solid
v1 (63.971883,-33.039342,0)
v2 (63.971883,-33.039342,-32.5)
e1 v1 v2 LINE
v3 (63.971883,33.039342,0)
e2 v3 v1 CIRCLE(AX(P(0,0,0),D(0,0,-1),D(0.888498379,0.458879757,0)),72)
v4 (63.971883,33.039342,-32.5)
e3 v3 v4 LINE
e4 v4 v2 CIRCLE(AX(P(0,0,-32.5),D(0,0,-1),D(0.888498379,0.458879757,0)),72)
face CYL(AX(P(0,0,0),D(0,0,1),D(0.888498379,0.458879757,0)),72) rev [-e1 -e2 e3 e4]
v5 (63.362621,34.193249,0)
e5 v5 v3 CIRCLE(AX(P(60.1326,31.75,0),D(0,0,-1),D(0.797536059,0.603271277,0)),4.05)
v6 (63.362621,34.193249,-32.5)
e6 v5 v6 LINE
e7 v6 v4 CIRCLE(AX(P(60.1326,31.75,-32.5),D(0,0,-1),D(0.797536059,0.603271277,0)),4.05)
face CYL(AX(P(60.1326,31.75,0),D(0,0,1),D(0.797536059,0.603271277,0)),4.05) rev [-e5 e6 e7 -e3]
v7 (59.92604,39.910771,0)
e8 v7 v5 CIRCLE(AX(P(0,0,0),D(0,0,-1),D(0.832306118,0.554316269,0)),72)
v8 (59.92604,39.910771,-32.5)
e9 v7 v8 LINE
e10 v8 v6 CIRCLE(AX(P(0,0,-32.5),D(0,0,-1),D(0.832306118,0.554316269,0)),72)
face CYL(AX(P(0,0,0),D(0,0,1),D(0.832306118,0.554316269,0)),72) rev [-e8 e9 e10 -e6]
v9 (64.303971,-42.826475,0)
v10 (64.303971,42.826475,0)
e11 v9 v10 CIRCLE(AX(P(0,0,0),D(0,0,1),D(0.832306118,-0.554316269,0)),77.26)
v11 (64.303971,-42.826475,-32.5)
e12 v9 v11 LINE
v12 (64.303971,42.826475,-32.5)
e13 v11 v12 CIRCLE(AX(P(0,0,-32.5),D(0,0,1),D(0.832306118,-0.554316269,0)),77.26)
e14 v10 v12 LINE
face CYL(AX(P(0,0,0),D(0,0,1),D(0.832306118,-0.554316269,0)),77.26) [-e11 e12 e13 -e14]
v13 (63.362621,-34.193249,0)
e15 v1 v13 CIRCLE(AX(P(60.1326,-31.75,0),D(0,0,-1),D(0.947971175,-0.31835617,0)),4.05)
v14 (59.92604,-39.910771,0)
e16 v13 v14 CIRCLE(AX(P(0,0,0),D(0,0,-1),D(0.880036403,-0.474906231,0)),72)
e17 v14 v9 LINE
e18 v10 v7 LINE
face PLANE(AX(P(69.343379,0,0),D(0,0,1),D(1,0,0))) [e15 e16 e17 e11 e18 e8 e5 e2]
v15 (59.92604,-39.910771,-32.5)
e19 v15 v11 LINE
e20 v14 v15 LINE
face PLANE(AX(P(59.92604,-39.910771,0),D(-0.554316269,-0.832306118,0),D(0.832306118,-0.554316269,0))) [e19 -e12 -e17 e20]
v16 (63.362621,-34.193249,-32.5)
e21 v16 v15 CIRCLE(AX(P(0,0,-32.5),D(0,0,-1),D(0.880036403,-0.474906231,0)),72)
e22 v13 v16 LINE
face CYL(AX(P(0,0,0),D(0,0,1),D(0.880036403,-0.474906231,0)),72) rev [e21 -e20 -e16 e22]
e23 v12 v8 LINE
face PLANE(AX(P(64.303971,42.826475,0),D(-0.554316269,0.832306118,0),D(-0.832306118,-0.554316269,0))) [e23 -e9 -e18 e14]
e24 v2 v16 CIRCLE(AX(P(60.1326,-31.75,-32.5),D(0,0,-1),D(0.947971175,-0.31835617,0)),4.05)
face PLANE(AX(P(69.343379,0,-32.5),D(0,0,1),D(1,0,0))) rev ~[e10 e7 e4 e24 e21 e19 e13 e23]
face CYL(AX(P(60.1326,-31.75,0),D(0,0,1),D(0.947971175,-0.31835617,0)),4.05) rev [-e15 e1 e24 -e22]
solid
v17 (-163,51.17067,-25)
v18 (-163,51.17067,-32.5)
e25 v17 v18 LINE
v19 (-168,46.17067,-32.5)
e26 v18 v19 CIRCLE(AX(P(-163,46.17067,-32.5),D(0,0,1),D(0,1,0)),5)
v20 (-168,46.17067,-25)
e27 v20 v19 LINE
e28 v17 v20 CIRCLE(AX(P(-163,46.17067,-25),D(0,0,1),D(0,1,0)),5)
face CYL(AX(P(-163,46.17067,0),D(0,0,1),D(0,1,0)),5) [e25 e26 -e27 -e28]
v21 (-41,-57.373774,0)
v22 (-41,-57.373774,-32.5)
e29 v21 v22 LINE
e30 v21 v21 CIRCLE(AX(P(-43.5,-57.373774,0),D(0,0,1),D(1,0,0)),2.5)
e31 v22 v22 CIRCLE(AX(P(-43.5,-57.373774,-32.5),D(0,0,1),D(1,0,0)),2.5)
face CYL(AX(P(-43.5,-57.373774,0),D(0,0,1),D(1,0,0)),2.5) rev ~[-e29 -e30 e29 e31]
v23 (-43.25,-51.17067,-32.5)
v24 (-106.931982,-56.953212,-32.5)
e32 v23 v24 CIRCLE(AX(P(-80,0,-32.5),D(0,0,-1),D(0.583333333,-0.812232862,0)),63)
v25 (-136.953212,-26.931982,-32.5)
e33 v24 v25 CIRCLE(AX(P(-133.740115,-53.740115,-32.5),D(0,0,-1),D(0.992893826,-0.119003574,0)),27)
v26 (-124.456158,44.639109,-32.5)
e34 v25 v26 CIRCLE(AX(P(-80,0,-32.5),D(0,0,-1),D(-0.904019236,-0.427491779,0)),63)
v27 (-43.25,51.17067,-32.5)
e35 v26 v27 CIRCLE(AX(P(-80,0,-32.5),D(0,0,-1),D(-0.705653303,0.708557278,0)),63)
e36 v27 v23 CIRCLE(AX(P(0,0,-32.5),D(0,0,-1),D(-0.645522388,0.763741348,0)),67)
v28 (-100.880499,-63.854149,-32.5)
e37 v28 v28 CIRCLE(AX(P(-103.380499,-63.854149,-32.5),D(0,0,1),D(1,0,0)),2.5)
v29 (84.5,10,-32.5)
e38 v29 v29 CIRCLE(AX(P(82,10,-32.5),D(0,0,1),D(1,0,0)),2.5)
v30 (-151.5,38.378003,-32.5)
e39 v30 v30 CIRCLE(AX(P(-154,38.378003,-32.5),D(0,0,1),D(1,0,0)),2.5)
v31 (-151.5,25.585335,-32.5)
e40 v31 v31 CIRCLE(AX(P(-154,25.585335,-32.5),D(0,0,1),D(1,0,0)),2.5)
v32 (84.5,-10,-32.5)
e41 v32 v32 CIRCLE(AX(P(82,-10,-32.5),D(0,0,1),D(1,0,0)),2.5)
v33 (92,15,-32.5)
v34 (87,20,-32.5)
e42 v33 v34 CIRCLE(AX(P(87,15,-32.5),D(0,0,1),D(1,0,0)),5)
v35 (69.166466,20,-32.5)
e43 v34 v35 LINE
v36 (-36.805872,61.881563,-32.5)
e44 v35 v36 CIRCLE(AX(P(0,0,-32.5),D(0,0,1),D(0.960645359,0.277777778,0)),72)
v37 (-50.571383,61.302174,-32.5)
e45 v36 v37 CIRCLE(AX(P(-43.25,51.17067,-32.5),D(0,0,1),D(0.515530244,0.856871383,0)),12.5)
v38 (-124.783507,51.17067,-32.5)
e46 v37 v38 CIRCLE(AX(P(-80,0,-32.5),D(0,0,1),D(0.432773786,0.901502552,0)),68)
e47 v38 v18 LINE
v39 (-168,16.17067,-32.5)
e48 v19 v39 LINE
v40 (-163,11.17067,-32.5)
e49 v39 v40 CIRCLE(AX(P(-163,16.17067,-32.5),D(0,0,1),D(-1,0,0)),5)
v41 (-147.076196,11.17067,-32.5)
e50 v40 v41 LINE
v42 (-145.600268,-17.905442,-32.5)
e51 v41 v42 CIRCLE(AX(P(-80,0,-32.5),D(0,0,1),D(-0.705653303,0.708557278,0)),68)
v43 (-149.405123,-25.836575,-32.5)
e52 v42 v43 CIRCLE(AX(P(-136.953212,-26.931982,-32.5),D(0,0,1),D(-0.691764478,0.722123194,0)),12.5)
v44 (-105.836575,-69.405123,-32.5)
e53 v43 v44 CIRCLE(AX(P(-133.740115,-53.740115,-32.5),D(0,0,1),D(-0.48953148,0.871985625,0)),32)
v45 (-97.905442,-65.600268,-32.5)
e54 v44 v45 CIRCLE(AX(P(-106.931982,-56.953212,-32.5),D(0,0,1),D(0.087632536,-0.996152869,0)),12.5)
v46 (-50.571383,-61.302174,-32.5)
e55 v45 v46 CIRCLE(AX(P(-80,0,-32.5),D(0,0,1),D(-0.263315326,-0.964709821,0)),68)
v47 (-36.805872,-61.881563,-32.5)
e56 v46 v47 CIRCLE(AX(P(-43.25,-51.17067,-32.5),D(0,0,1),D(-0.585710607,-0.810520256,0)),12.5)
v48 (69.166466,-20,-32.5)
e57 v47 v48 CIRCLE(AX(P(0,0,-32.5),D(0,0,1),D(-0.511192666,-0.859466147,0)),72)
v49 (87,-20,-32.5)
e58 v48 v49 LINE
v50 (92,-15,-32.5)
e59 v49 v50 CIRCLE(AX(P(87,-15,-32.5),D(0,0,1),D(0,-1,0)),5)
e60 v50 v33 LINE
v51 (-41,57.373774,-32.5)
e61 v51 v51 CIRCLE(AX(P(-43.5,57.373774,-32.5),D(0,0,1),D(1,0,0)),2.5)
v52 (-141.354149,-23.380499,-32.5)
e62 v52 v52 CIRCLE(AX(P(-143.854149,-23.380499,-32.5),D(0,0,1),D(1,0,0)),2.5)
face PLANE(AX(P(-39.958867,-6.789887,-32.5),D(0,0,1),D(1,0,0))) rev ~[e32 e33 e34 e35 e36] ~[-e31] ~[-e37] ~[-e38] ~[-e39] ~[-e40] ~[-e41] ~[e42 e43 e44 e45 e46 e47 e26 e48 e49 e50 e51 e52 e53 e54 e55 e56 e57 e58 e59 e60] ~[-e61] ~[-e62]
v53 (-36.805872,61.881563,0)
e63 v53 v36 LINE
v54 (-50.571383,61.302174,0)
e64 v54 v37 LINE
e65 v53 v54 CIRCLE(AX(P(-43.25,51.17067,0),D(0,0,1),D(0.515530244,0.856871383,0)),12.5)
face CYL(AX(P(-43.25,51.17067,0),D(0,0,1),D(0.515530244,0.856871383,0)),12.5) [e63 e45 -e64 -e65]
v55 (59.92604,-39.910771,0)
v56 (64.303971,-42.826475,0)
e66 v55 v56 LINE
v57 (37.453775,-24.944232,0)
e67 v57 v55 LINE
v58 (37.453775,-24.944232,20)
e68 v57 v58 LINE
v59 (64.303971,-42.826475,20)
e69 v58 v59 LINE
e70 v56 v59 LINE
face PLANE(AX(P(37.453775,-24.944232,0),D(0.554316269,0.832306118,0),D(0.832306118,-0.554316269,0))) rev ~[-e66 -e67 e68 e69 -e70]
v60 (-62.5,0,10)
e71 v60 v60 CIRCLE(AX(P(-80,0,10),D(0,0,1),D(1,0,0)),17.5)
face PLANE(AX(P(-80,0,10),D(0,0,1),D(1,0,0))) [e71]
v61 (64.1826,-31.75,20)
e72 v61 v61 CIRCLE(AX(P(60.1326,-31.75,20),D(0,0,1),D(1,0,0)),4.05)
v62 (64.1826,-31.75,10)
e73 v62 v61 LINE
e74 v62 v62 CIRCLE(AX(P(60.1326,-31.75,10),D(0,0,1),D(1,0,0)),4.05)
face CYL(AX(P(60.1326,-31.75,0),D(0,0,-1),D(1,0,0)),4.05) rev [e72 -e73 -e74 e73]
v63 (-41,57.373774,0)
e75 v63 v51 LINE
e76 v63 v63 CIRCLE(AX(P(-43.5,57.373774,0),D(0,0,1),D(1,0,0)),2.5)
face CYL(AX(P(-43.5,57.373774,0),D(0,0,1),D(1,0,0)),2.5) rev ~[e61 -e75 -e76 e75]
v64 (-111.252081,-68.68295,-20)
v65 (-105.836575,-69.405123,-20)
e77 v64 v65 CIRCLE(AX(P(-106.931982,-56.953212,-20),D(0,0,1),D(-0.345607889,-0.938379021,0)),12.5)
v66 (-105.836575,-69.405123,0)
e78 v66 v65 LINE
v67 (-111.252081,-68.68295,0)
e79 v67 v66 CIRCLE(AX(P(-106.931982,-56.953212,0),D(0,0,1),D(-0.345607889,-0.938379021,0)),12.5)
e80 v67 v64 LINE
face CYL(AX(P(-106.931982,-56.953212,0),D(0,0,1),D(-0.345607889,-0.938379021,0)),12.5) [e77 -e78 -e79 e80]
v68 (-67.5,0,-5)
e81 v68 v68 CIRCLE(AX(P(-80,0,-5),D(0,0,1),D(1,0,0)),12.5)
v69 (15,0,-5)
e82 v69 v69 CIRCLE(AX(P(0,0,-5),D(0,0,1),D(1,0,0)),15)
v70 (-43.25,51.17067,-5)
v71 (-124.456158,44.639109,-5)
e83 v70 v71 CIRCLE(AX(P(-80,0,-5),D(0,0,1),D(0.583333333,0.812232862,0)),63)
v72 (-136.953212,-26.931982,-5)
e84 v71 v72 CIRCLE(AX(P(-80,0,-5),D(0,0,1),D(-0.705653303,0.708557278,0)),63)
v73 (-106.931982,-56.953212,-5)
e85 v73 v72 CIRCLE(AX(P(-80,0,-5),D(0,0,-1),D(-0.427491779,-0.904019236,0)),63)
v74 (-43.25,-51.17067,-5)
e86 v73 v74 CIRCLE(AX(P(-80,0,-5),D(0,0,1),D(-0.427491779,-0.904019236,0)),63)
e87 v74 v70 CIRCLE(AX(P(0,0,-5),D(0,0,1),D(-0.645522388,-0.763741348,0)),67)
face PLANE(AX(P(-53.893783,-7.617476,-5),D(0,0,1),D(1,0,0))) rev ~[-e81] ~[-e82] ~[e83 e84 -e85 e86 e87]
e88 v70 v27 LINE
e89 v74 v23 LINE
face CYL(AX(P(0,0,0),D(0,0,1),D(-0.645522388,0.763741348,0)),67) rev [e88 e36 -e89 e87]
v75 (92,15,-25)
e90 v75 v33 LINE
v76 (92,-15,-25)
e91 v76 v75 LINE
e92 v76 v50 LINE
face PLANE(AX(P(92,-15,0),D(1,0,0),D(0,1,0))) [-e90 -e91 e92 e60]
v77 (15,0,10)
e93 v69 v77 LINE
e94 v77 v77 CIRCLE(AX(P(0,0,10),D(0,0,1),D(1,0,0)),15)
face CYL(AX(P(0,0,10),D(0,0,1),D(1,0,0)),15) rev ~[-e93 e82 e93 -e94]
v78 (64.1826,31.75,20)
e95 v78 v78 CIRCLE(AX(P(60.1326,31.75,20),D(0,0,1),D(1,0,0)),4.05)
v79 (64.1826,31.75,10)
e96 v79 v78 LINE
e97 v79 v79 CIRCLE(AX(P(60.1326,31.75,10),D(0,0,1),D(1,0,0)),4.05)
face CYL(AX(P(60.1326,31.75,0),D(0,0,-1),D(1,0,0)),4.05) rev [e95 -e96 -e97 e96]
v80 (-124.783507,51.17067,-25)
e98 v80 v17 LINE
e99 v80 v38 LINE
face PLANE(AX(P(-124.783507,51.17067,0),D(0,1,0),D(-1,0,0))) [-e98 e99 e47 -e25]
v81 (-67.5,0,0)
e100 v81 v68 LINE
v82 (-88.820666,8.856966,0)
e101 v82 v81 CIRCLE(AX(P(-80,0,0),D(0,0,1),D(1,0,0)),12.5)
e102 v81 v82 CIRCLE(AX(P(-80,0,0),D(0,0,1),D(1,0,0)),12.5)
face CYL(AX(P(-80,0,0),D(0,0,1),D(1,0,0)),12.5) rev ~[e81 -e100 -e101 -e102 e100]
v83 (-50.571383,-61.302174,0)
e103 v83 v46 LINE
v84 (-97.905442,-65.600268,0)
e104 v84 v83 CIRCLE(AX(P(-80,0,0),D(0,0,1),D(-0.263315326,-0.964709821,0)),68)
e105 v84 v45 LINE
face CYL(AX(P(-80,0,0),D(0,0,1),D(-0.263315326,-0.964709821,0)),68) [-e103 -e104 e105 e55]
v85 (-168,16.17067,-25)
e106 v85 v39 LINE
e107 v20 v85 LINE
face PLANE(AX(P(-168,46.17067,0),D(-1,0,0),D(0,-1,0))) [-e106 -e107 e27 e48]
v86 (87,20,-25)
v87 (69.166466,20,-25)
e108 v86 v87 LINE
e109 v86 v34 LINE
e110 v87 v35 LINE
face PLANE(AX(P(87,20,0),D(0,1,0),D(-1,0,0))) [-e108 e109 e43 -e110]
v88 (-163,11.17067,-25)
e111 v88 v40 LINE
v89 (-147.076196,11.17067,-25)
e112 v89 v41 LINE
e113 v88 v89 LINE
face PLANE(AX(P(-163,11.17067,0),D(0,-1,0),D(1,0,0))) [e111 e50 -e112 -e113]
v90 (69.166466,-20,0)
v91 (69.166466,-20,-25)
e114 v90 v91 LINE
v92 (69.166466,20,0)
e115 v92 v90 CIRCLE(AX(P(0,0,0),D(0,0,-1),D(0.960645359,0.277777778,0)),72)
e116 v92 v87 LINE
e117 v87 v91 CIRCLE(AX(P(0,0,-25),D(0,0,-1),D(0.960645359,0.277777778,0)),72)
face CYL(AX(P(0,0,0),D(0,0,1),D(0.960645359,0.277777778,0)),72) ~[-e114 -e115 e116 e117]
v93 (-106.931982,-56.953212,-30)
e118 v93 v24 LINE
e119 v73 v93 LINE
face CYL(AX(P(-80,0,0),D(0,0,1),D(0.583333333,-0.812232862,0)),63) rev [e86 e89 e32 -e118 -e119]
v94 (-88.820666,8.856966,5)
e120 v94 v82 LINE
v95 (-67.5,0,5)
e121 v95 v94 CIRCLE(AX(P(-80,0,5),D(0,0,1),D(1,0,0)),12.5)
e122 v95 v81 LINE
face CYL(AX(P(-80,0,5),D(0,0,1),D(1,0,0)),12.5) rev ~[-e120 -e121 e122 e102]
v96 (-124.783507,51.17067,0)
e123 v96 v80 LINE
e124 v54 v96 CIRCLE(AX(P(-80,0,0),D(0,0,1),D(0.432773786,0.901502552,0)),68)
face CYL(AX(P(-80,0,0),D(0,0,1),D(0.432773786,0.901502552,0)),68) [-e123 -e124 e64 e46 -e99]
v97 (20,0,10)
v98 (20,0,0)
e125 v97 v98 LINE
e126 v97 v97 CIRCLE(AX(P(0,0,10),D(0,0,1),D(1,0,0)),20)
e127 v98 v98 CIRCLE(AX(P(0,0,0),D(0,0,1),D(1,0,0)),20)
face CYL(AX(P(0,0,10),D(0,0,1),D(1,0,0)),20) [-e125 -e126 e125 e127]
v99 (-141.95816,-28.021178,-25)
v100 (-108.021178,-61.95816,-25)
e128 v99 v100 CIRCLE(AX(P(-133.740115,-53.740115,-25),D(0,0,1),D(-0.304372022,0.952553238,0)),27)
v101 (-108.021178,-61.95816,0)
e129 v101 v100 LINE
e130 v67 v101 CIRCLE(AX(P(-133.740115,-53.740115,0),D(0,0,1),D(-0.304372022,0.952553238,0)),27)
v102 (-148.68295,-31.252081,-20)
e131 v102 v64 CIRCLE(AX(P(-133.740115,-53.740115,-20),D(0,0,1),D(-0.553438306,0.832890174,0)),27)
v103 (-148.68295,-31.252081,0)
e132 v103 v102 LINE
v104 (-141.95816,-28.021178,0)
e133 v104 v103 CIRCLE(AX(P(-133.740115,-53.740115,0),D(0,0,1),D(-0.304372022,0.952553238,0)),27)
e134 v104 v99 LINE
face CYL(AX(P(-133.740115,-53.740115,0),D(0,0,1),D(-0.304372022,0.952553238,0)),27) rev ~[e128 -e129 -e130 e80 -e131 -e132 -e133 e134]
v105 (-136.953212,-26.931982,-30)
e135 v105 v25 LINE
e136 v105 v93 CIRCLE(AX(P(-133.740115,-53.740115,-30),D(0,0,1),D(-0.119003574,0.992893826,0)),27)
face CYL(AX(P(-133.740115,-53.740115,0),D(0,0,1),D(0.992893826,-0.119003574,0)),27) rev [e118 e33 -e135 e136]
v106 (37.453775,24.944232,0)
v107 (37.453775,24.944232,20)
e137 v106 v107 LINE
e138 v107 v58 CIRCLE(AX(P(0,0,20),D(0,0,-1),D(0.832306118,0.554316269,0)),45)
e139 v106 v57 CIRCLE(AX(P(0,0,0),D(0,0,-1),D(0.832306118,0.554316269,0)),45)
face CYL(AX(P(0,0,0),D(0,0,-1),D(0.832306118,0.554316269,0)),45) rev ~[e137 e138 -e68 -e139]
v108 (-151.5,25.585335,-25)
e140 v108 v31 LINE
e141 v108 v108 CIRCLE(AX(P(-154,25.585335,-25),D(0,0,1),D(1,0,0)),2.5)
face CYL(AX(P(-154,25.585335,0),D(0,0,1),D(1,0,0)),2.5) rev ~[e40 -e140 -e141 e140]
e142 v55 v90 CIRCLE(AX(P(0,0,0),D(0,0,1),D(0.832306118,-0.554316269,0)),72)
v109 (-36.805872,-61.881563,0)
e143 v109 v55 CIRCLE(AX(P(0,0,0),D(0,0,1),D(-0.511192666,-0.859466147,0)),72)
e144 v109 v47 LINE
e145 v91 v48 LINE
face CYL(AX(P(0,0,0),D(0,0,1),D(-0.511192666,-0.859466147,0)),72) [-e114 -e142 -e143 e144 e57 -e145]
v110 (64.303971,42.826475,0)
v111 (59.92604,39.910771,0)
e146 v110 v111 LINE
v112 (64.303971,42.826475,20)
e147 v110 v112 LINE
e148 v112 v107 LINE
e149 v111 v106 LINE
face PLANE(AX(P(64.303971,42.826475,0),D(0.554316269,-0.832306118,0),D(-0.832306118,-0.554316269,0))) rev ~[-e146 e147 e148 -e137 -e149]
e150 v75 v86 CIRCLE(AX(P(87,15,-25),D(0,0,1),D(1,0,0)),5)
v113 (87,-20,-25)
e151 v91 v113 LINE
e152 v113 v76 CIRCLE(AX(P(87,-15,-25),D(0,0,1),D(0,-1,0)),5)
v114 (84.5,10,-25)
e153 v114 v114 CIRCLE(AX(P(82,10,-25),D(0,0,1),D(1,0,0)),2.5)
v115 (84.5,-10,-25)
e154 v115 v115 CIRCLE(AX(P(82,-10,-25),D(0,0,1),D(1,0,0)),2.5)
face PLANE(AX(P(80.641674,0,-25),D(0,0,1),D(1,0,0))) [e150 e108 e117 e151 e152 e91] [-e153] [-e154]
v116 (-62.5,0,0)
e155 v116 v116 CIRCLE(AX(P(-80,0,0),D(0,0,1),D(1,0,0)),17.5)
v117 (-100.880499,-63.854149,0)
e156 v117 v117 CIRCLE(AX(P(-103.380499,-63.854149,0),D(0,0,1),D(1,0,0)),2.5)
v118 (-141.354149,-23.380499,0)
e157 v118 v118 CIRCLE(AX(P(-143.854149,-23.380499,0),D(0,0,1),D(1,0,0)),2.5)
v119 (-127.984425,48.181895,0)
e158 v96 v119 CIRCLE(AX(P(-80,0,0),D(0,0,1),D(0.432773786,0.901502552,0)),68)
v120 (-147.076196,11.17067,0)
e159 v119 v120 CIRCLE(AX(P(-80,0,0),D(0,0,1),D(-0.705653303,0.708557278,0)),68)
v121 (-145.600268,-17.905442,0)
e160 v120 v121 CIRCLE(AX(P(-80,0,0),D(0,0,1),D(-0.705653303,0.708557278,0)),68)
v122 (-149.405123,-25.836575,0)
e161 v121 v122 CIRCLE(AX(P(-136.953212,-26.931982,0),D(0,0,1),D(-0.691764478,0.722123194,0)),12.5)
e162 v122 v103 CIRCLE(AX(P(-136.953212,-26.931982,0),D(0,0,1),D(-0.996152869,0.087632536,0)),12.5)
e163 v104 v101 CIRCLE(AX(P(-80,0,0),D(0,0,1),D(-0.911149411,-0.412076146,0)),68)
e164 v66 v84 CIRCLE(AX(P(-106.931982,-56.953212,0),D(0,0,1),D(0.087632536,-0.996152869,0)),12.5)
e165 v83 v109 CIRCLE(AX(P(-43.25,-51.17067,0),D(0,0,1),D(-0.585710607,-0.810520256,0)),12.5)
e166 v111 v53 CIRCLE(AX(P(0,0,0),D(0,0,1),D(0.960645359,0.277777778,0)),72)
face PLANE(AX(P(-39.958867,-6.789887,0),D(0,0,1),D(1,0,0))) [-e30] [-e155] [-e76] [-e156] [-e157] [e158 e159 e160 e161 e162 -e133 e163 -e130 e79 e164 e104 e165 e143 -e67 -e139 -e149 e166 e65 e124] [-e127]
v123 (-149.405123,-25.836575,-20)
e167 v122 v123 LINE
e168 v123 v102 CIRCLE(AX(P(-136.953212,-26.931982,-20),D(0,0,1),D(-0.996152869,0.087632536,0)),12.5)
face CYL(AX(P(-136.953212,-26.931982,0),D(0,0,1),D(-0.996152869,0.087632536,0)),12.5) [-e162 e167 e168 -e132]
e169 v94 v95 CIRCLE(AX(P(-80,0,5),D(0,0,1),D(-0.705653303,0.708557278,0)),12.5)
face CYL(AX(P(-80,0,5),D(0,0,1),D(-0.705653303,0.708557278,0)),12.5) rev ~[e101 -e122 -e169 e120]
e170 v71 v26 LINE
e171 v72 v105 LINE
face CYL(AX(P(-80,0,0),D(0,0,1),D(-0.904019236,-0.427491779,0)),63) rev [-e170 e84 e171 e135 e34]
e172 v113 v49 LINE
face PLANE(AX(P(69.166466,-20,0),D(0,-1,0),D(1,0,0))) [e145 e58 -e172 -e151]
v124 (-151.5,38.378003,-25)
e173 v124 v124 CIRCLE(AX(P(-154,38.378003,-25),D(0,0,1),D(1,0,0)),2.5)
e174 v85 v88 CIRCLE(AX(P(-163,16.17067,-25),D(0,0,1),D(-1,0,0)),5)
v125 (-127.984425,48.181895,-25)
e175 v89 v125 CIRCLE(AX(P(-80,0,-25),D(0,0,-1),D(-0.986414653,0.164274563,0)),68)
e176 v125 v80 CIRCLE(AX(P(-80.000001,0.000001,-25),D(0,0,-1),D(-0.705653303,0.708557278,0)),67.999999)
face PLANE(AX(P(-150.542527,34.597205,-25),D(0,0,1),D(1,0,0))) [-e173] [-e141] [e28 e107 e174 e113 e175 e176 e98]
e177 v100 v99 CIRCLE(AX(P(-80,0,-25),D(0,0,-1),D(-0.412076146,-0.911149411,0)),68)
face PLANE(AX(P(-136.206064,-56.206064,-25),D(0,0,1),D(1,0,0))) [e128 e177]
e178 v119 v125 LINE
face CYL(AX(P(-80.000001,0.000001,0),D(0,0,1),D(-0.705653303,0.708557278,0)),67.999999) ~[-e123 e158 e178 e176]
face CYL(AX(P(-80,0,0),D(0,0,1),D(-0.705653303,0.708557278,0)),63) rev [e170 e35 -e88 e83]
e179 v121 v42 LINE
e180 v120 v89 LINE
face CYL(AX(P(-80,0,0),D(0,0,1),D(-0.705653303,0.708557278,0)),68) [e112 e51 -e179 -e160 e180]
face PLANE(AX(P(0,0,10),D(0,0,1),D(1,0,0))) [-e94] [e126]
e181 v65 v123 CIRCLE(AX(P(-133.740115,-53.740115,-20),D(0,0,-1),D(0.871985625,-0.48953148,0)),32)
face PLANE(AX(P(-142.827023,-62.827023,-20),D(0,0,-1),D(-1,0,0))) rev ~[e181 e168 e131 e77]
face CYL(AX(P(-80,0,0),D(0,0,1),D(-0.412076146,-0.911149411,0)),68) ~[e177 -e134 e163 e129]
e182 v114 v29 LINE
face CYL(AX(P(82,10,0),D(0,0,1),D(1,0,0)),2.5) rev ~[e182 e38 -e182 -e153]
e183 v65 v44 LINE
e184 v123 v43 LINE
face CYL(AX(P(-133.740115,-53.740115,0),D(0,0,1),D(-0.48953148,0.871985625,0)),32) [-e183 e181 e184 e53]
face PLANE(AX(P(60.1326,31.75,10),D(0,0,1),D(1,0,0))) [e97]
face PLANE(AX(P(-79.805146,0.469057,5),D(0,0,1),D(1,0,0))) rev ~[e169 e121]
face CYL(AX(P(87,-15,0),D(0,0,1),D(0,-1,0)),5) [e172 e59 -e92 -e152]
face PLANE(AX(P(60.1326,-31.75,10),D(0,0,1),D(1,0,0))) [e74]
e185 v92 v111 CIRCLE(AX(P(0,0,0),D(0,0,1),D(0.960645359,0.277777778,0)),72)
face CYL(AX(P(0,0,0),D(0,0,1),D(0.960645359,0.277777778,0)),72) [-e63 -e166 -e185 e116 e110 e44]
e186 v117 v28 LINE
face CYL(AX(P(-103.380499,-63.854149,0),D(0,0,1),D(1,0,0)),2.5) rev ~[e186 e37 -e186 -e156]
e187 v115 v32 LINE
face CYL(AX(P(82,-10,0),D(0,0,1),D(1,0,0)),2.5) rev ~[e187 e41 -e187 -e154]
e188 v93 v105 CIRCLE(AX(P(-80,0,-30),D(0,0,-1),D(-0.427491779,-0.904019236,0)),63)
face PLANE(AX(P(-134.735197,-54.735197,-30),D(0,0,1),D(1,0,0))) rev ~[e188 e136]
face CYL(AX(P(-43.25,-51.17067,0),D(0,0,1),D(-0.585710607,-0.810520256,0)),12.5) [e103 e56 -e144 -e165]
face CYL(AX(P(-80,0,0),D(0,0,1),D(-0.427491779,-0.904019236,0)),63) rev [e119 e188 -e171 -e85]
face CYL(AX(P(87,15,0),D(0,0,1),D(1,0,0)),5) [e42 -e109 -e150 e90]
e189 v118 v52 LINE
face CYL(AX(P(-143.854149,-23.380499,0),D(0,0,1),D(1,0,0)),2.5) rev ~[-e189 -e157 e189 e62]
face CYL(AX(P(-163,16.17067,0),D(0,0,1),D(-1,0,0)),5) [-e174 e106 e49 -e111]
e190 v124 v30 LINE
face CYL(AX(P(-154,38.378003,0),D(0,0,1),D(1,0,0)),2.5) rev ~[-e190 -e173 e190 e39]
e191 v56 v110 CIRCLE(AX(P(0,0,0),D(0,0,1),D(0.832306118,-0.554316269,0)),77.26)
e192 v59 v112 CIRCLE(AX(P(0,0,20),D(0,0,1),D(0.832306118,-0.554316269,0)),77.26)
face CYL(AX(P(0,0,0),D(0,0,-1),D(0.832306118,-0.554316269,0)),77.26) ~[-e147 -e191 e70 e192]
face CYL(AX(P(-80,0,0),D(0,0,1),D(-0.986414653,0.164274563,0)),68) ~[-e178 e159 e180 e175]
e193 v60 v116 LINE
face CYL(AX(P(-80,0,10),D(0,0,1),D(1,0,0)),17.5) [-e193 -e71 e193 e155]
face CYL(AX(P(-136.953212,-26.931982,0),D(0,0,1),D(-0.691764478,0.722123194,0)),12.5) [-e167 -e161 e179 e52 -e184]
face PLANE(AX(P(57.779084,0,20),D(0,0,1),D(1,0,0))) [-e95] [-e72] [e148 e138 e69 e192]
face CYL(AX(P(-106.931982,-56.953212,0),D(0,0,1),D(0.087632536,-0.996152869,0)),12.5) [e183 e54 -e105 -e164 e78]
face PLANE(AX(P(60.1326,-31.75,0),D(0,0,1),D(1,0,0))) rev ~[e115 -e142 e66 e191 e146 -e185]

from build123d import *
from build123d.topology import SkipClean

# Parameters (mm, degrees)
SKETCH1_R            = 12.5
SKETCH1_R_2          = 15
BOSS_EXTRUDE5_DEPTH  = 5
SKETCH1_10_R         = 2.5
BOSS_EXTRUDE6_DEPTH  = 32.5
SKETCH1_11_R         = 2.5
CUT_EXTRUDE3_DEPTH   = 25
BOSS_EXTRUDE7_START  = 10
SKETCH1_12_R         = 17.5
SKETCH1_12_R_2       = 20
SKETCH1_12_R_3       = 15
BOSS_EXTRUDE7_DEPTH  = 10
CUT_EXTRUDE4_START   = 5
CUT_EXTRUDE4_DEPTH   = 5
SKETCH1_14_R         = 15
BOSS_EXTRUDE8_DEPTH  = 5
BOSS_EXTRUDE18_DEPTH = 30
CUT_EXTRUDE6_DEPTH   = 25
CUT_EXTRUDE7_DEPTH   = 20
SKETCH1_17_R         = 2.5
BOSS_EXTRUDE19_DEPTH = 32.5
SKETCH1_18_R         = 2.5
CUT_EXTRUDE8_DEPTH   = 25
SKETCH5_R            = 4.05
BOSS_EXTRUDE23_DEPTH = 20
SKETCH5_7_R          = 4.05
BOSS_EXTRUDE24_DEPTH = 10
BOSS_EXTRUDE25_DEPTH = 32.5


with BuildPart() as part:
    # Sketch1 → Boss-Extrude5 (new body)
    with BuildSketch(Plane.XY):
        with BuildLine():
            ThreePointArc((-43.25, 51.17067031), (-85.050895255, 62.797201029), (-124.456158067, 44.639108525))
            ThreePointArc((-124.456158067, 44.639108525), (-142.061021018, 10.836497137), (-136.953211864, -26.931982072))
            ThreePointArc((-136.953211864, -26.931982072), (-152.831998462, -72.831998462), (-106.931982072, -56.953211864))
            ThreePointArc((-106.931982072, -56.953211864), (-74.302823883, -62.741869468), (-43.25, -51.17067031))
            ThreePointArc((-43.25, -51.17067031), (67, 0), (-43.25, 51.17067031))
        make_face()
        with Locations((-80, 0)):
            Circle(SKETCH1_R, mode=Mode.SUBTRACT)
        with Locations((-133.74011537, -53.74011537)):
            Circle(SKETCH1_R_2, mode=Mode.SUBTRACT)
        Circle(SKETCH1_R_2, mode=Mode.SUBTRACT)
    extrude(amount=-BOSS_EXTRUDE5_DEPTH)

    # Sketch1<10> → Boss-Extrude6 (add)
    with BuildSketch(Plane.XY):
        with BuildLine():
            ThreePointArc((-127.98442458, 48.181894916), (-145.705818757, 17.514148036), (-145.600267844, -17.905442155))
            ThreePointArc((-145.600267844, -17.905442155), (-148.223407914, -21.525256537), (-149.405122728, -25.836575371))
            ThreePointArc((-149.405122728, -25.836575371), (-156.367532368, -76.367532368), (-105.836575371, -69.405122728))
            ThreePointArc((-105.836575371, -69.405122728), (-101.525256538, -68.223407914), (-97.905442155, -65.600267844))
            ThreePointArc((-97.905442155, -65.600267844), (-73.850667048, -67.721382917), (-50.571382583, -61.302173509))
            ThreePointArc((-50.571382583, -61.302173509), (-43.775658453, -63.659612747), (-36.80587195, -61.881562601))
            ThreePointArc((-36.80587195, -61.881562601), (26.463528319, -66.9602992), (69.166465863, -20))
            Line((69.166465863, -20), (87, -20))
            ThreePointArc((87, -20), (90.535533906, -18.535533906), (92, -15))
            Line((92, -15), (92, 15))
            ThreePointArc((92, 15), (90.535533906, 18.535533906), (87, 20))
            Line((87, 20), (69.166465863, 20))
            ThreePointArc((69.166465863, 20), (26.463528319, 66.9602992), (-36.80587195, 61.881562601))
            ThreePointArc((-36.80587195, 61.881562601), (-43.775658453, 63.659612747), (-50.571382583, 61.302173509))
            ThreePointArc((-50.571382583, 61.302173509), (-91.362874745, 67.043904104), (-127.98442458, 48.181894916))
        make_face()
        with Locations((-103.38049856, -63.85414855)):
            Circle(SKETCH1_10_R, mode=Mode.SUBTRACT)
        with Locations((-43.5, -57.373774497)):
            Circle(SKETCH1_10_R, mode=Mode.SUBTRACT)
        with Locations((-143.85414855, -23.38049856)):
            Circle(SKETCH1_10_R, mode=Mode.SUBTRACT)
        with BuildLine():
            ThreePointArc((-136.953211864, -26.931982072), (-142.061021018, 10.836497137), (-124.456158067, 44.639108525))
            ThreePointArc((-124.456158067, 44.639108525), (-85.050895255, 62.797201029), (-43.25, 51.17067031))
            ThreePointArc((-43.25, 51.17067031), (67, 0), (-43.25, -51.17067031))
            ThreePointArc((-43.25, -51.17067031), (-74.302823883, -62.741869468), (-106.931982072, -56.953211864))
            ThreePointArc((-106.931982072, -56.953211864), (-152.831998462, -72.831998462), (-136.953211864, -26.931982072))
        make_face(mode=Mode.SUBTRACT)
        with Locations((-43.5, 57.373774497)):
            Circle(SKETCH1_10_R, mode=Mode.SUBTRACT)
        with Locations((82, 10)):
            Circle(SKETCH1_10_R, mode=Mode.SUBTRACT)
        with Locations((82, -10)):
            Circle(SKETCH1_10_R, mode=Mode.SUBTRACT)
    extrude(amount=-BOSS_EXTRUDE6_DEPTH)

    # Sketch1<11> → Cut-Extrude3 (cut)
    with SkipClean():  # the faces are left unmerged after this step: merging them gives an invalid solid
        with BuildSketch(Plane.XY):
            with BuildLine():
                Line((87, 20), (69.166465863, 20))
                ThreePointArc((69.166465863, 20), (72, 0), (69.166465863, -20))
                Line((69.166465863, -20), (87, -20))
                ThreePointArc((87, -20), (90.535533906, -18.535533906), (92, -15))
                Line((92, -15), (92, 0))
                Line((92, 0), (92, 15))
                ThreePointArc((92, 15), (90.535533906, 18.535533906), (87, 20))
            make_face()
            with Locations((82, -10)):
                Circle(SKETCH1_11_R, mode=Mode.SUBTRACT)
            with Locations((82, 10)):
                Circle(SKETCH1_11_R, mode=Mode.SUBTRACT)
        extrude(amount=-CUT_EXTRUDE3_DEPTH, mode=Mode.SUBTRACT)

    # Sketch1<12> → Boss-Extrude7 (add)
    # profile 1 of 2: a face of its own
    with SkipClean():  # the faces are left unmerged after this step: merging them gives an invalid solid
        with BuildSketch(Plane.XY.offset(BOSS_EXTRUDE7_START)):
            with Locations((-80, 0)):
                Circle(SKETCH1_12_R)
        # profile 2 of 2: a face of its own
        with BuildSketch(Plane.XY.offset(BOSS_EXTRUDE7_START)):
            Circle(SKETCH1_12_R_2)
            Circle(SKETCH1_12_R_3, mode=Mode.SUBTRACT)
        extrude(amount=-BOSS_EXTRUDE7_DEPTH)

    # Sketch1<13> → Cut-Extrude4 (cut)
    with SkipClean():  # the faces are left unmerged after this step: merging them gives an invalid solid
        with BuildSketch(Plane.XY.offset(CUT_EXTRUDE4_START)):
            with BuildLine():
                ThreePointArc((-67.5, 0), (-75.204602651, 11.543576754), (-88.820666283, 8.856965977))
                ThreePointArc((-88.820666283, 8.856965977), (-84.795397349, -11.543576754), (-67.5, 0))
            make_face()
        extrude(amount=-CUT_EXTRUDE4_DEPTH, mode=Mode.SUBTRACT)

    # Sketch1<14> → Boss-Extrude8 (add)
    with SkipClean():  # the faces are left unmerged after this step: merging them gives an invalid solid
        with BuildSketch(Plane.XY):
            with Locations((-133.74011537, -53.74011537)):
                Circle(SKETCH1_14_R)
        extrude(amount=-BOSS_EXTRUDE8_DEPTH)

    # Sketch3 → Boss-Extrude18 (add)
    with SkipClean():  # the faces are left unmerged after this step: merging them gives an invalid solid
        with BuildSketch(Plane.XY):
            with BuildLine():
                ThreePointArc((-136.953211864, -26.931982072), (-152.831998462, -72.831998462), (-106.931982072, -56.953211864))
                ThreePointArc((-106.931982072, -56.953211864), (-124.547727215, -44.547727215), (-136.953211864, -26.931982072))
            make_face()
        extrude(amount=-BOSS_EXTRUDE18_DEPTH)

    # Sketch3<3> → Cut-Extrude6 (cut)
    with SkipClean():  # the faces are left unmerged after this step: merging them gives an invalid solid
        with BuildSketch(Plane.XY):
            with BuildLine():
                ThreePointArc((-108.021177933, -61.958159973), (-128.083261121, -48.083261121), (-141.958159973, -28.021177933))
                ThreePointArc((-141.958159973, -28.021177933), (-152.831998462, -72.831998462), (-108.021177933, -61.958159973))
            make_face()
        extrude(amount=-CUT_EXTRUDE6_DEPTH, mode=Mode.SUBTRACT)

    # Sketch4 → Cut-Extrude7 (cut)
    with SkipClean():  # the faces are left unmerged after this step: merging them gives an invalid solid
        with BuildSketch(Plane.XY):
            with BuildLine():
                ThreePointArc((-149.405122728, -25.836575371), (-149.343528932, -28.584266239), (-148.682949629, -31.252080678))
                ThreePointArc((-148.682949629, -31.252080678), (-152.831998462, -72.831998462), (-111.252080678, -68.682949629))
                ThreePointArc((-111.252080678, -68.682949629), (-108.584266239, -69.343528932), (-105.836575371, -69.405122728))
                ThreePointArc((-105.836575371, -69.405122728), (-156.367532368, -76.367532368), (-149.405122728, -25.836575371))
            make_face()
        extrude(amount=-CUT_EXTRUDE7_DEPTH, mode=Mode.SUBTRACT)

    # Sketch1<17> → Boss-Extrude19 (add)
    with SkipClean():  # the faces are left unmerged after this step: merging them gives an invalid solid
        with BuildSketch(Plane.XY):
            with BuildLine():
                ThreePointArc((-147.07619641, 11.17067031), (-140.433387398, 31.173798094), (-127.98442458, 48.181894916))
                ThreePointArc((-127.98442458, 48.181894916), (-126.408032467, 49.702057529), (-124.783507009, 51.17067031))
                Line((-124.783507009, 51.17067031), (-163, 51.17067031))
                ThreePointArc((-163, 51.17067031), (-166.535533906, 49.706204216), (-168, 46.17067031))
                Line((-168, 46.17067031), (-168, 16.17067031))
                ThreePointArc((-168, 16.17067031), (-166.535533906, 12.635136404), (-163, 11.17067031))
                Line((-163, 11.17067031), (-147.07619641, 11.17067031))
            make_face()
            with Locations((-154, 25.585335155)):
                Circle(SKETCH1_17_R, mode=Mode.SUBTRACT)
            with Locations((-154, 38.378002733)):
                Circle(SKETCH1_17_R, mode=Mode.SUBTRACT)
        extrude(amount=-BOSS_EXTRUDE19_DEPTH)

    # Sketch1<18> → Cut-Extrude8 (cut)
    with SkipClean():  # the faces are left unmerged after this step: merging them gives an invalid solid
        with BuildSketch(Plane.XY):
            with BuildLine():
                ThreePointArc((-147.07619641, 11.17067031), (-140.433387398, 31.173798094), (-127.98442458, 48.181894916))
                ThreePointArc((-127.98442458, 48.181894916), (-126.408032467, 49.702057529), (-124.783507009, 51.17067031))
                Line((-124.783507009, 51.17067031), (-163, 51.17067031))
                ThreePointArc((-163, 51.17067031), (-166.535533906, 49.706204216), (-168, 46.17067031))
                Line((-168, 46.17067031), (-168, 16.17067031))
                ThreePointArc((-168, 16.17067031), (-166.535533906, 12.635136404), (-163, 11.17067031))
                Line((-163, 11.17067031), (-147.07619641, 11.17067031))
            make_face()
            with Locations((-154, 25.585335155)):
                Circle(SKETCH1_18_R, mode=Mode.SUBTRACT)
            with Locations((-154, 38.378002733)):
                Circle(SKETCH1_18_R, mode=Mode.SUBTRACT)
        extrude(amount=-CUT_EXTRUDE8_DEPTH, mode=Mode.SUBTRACT)

    # Sketch5 → Boss-Extrude23 (add)
    with BuildSketch(Plane.XY):
        with BuildLine():
            ThreePointArc((37.453775308, 24.944232102), (45, 0), (37.453775308, -24.944232102))
            Line((37.453775308, -24.944232102), (64.303970673, -42.826474938))
            ThreePointArc((64.303970673, -42.826474938), (77.26, 0), (64.303970673, 42.826474938))
            Line((64.303970673, 42.826474938), (37.453775308, 24.944232102))
        make_face()
        with Locations((60.1326, 31.75)):
            Circle(SKETCH5_R, mode=Mode.SUBTRACT)
        with Locations((60.1326, -31.75)):
            Circle(SKETCH5_R, mode=Mode.SUBTRACT)
    extrude(amount=BOSS_EXTRUDE23_DEPTH)

    # Sketch5<7> → Boss-Extrude24 (add)
    with BuildSketch(Plane.XY):
        with Locations((60.1326, -31.75)):
            Circle(SKETCH5_7_R)
        with Locations((60.1326, 31.75)):
            Circle(SKETCH5_7_R)
    extrude(amount=BOSS_EXTRUDE24_DEPTH)


with BuildPart() as body_2:
    # Sketch5<8> → Boss-Extrude25 (new body)
    with BuildSketch(Plane.XY):
        with BuildLine():
            ThreePointArc((63.362621042, -34.193248671), (61.710582822, -37.091831551), (59.926040493, -39.910771364))
            Line((59.926040493, -39.910771364), (64.303970673, -42.826474938))
            ThreePointArc((64.303970673, -42.826474938), (77.26, 0), (64.303970673, 42.826474938))
            Line((64.303970673, 42.826474938), (59.926040493, 39.910771364))
            ThreePointArc((59.926040493, 39.910771364), (61.710582822, 37.091831551), (63.362621042, 34.193248671))
            ThreePointArc((63.362621042, 34.193248671), (63.714029978, 33.640994266), (63.971883257, 33.039342495))
            ThreePointArc((63.971883257, 33.039342495), (72, 0), (63.971883257, -33.039342495))
            ThreePointArc((63.971883257, -33.039342495), (63.714029978, -33.640994266), (63.362621042, -34.193248671))
        make_face()
    extrude(amount=-BOSS_EXTRUDE25_DEPTH)


solid = Compound([part.part, body_2.part])
